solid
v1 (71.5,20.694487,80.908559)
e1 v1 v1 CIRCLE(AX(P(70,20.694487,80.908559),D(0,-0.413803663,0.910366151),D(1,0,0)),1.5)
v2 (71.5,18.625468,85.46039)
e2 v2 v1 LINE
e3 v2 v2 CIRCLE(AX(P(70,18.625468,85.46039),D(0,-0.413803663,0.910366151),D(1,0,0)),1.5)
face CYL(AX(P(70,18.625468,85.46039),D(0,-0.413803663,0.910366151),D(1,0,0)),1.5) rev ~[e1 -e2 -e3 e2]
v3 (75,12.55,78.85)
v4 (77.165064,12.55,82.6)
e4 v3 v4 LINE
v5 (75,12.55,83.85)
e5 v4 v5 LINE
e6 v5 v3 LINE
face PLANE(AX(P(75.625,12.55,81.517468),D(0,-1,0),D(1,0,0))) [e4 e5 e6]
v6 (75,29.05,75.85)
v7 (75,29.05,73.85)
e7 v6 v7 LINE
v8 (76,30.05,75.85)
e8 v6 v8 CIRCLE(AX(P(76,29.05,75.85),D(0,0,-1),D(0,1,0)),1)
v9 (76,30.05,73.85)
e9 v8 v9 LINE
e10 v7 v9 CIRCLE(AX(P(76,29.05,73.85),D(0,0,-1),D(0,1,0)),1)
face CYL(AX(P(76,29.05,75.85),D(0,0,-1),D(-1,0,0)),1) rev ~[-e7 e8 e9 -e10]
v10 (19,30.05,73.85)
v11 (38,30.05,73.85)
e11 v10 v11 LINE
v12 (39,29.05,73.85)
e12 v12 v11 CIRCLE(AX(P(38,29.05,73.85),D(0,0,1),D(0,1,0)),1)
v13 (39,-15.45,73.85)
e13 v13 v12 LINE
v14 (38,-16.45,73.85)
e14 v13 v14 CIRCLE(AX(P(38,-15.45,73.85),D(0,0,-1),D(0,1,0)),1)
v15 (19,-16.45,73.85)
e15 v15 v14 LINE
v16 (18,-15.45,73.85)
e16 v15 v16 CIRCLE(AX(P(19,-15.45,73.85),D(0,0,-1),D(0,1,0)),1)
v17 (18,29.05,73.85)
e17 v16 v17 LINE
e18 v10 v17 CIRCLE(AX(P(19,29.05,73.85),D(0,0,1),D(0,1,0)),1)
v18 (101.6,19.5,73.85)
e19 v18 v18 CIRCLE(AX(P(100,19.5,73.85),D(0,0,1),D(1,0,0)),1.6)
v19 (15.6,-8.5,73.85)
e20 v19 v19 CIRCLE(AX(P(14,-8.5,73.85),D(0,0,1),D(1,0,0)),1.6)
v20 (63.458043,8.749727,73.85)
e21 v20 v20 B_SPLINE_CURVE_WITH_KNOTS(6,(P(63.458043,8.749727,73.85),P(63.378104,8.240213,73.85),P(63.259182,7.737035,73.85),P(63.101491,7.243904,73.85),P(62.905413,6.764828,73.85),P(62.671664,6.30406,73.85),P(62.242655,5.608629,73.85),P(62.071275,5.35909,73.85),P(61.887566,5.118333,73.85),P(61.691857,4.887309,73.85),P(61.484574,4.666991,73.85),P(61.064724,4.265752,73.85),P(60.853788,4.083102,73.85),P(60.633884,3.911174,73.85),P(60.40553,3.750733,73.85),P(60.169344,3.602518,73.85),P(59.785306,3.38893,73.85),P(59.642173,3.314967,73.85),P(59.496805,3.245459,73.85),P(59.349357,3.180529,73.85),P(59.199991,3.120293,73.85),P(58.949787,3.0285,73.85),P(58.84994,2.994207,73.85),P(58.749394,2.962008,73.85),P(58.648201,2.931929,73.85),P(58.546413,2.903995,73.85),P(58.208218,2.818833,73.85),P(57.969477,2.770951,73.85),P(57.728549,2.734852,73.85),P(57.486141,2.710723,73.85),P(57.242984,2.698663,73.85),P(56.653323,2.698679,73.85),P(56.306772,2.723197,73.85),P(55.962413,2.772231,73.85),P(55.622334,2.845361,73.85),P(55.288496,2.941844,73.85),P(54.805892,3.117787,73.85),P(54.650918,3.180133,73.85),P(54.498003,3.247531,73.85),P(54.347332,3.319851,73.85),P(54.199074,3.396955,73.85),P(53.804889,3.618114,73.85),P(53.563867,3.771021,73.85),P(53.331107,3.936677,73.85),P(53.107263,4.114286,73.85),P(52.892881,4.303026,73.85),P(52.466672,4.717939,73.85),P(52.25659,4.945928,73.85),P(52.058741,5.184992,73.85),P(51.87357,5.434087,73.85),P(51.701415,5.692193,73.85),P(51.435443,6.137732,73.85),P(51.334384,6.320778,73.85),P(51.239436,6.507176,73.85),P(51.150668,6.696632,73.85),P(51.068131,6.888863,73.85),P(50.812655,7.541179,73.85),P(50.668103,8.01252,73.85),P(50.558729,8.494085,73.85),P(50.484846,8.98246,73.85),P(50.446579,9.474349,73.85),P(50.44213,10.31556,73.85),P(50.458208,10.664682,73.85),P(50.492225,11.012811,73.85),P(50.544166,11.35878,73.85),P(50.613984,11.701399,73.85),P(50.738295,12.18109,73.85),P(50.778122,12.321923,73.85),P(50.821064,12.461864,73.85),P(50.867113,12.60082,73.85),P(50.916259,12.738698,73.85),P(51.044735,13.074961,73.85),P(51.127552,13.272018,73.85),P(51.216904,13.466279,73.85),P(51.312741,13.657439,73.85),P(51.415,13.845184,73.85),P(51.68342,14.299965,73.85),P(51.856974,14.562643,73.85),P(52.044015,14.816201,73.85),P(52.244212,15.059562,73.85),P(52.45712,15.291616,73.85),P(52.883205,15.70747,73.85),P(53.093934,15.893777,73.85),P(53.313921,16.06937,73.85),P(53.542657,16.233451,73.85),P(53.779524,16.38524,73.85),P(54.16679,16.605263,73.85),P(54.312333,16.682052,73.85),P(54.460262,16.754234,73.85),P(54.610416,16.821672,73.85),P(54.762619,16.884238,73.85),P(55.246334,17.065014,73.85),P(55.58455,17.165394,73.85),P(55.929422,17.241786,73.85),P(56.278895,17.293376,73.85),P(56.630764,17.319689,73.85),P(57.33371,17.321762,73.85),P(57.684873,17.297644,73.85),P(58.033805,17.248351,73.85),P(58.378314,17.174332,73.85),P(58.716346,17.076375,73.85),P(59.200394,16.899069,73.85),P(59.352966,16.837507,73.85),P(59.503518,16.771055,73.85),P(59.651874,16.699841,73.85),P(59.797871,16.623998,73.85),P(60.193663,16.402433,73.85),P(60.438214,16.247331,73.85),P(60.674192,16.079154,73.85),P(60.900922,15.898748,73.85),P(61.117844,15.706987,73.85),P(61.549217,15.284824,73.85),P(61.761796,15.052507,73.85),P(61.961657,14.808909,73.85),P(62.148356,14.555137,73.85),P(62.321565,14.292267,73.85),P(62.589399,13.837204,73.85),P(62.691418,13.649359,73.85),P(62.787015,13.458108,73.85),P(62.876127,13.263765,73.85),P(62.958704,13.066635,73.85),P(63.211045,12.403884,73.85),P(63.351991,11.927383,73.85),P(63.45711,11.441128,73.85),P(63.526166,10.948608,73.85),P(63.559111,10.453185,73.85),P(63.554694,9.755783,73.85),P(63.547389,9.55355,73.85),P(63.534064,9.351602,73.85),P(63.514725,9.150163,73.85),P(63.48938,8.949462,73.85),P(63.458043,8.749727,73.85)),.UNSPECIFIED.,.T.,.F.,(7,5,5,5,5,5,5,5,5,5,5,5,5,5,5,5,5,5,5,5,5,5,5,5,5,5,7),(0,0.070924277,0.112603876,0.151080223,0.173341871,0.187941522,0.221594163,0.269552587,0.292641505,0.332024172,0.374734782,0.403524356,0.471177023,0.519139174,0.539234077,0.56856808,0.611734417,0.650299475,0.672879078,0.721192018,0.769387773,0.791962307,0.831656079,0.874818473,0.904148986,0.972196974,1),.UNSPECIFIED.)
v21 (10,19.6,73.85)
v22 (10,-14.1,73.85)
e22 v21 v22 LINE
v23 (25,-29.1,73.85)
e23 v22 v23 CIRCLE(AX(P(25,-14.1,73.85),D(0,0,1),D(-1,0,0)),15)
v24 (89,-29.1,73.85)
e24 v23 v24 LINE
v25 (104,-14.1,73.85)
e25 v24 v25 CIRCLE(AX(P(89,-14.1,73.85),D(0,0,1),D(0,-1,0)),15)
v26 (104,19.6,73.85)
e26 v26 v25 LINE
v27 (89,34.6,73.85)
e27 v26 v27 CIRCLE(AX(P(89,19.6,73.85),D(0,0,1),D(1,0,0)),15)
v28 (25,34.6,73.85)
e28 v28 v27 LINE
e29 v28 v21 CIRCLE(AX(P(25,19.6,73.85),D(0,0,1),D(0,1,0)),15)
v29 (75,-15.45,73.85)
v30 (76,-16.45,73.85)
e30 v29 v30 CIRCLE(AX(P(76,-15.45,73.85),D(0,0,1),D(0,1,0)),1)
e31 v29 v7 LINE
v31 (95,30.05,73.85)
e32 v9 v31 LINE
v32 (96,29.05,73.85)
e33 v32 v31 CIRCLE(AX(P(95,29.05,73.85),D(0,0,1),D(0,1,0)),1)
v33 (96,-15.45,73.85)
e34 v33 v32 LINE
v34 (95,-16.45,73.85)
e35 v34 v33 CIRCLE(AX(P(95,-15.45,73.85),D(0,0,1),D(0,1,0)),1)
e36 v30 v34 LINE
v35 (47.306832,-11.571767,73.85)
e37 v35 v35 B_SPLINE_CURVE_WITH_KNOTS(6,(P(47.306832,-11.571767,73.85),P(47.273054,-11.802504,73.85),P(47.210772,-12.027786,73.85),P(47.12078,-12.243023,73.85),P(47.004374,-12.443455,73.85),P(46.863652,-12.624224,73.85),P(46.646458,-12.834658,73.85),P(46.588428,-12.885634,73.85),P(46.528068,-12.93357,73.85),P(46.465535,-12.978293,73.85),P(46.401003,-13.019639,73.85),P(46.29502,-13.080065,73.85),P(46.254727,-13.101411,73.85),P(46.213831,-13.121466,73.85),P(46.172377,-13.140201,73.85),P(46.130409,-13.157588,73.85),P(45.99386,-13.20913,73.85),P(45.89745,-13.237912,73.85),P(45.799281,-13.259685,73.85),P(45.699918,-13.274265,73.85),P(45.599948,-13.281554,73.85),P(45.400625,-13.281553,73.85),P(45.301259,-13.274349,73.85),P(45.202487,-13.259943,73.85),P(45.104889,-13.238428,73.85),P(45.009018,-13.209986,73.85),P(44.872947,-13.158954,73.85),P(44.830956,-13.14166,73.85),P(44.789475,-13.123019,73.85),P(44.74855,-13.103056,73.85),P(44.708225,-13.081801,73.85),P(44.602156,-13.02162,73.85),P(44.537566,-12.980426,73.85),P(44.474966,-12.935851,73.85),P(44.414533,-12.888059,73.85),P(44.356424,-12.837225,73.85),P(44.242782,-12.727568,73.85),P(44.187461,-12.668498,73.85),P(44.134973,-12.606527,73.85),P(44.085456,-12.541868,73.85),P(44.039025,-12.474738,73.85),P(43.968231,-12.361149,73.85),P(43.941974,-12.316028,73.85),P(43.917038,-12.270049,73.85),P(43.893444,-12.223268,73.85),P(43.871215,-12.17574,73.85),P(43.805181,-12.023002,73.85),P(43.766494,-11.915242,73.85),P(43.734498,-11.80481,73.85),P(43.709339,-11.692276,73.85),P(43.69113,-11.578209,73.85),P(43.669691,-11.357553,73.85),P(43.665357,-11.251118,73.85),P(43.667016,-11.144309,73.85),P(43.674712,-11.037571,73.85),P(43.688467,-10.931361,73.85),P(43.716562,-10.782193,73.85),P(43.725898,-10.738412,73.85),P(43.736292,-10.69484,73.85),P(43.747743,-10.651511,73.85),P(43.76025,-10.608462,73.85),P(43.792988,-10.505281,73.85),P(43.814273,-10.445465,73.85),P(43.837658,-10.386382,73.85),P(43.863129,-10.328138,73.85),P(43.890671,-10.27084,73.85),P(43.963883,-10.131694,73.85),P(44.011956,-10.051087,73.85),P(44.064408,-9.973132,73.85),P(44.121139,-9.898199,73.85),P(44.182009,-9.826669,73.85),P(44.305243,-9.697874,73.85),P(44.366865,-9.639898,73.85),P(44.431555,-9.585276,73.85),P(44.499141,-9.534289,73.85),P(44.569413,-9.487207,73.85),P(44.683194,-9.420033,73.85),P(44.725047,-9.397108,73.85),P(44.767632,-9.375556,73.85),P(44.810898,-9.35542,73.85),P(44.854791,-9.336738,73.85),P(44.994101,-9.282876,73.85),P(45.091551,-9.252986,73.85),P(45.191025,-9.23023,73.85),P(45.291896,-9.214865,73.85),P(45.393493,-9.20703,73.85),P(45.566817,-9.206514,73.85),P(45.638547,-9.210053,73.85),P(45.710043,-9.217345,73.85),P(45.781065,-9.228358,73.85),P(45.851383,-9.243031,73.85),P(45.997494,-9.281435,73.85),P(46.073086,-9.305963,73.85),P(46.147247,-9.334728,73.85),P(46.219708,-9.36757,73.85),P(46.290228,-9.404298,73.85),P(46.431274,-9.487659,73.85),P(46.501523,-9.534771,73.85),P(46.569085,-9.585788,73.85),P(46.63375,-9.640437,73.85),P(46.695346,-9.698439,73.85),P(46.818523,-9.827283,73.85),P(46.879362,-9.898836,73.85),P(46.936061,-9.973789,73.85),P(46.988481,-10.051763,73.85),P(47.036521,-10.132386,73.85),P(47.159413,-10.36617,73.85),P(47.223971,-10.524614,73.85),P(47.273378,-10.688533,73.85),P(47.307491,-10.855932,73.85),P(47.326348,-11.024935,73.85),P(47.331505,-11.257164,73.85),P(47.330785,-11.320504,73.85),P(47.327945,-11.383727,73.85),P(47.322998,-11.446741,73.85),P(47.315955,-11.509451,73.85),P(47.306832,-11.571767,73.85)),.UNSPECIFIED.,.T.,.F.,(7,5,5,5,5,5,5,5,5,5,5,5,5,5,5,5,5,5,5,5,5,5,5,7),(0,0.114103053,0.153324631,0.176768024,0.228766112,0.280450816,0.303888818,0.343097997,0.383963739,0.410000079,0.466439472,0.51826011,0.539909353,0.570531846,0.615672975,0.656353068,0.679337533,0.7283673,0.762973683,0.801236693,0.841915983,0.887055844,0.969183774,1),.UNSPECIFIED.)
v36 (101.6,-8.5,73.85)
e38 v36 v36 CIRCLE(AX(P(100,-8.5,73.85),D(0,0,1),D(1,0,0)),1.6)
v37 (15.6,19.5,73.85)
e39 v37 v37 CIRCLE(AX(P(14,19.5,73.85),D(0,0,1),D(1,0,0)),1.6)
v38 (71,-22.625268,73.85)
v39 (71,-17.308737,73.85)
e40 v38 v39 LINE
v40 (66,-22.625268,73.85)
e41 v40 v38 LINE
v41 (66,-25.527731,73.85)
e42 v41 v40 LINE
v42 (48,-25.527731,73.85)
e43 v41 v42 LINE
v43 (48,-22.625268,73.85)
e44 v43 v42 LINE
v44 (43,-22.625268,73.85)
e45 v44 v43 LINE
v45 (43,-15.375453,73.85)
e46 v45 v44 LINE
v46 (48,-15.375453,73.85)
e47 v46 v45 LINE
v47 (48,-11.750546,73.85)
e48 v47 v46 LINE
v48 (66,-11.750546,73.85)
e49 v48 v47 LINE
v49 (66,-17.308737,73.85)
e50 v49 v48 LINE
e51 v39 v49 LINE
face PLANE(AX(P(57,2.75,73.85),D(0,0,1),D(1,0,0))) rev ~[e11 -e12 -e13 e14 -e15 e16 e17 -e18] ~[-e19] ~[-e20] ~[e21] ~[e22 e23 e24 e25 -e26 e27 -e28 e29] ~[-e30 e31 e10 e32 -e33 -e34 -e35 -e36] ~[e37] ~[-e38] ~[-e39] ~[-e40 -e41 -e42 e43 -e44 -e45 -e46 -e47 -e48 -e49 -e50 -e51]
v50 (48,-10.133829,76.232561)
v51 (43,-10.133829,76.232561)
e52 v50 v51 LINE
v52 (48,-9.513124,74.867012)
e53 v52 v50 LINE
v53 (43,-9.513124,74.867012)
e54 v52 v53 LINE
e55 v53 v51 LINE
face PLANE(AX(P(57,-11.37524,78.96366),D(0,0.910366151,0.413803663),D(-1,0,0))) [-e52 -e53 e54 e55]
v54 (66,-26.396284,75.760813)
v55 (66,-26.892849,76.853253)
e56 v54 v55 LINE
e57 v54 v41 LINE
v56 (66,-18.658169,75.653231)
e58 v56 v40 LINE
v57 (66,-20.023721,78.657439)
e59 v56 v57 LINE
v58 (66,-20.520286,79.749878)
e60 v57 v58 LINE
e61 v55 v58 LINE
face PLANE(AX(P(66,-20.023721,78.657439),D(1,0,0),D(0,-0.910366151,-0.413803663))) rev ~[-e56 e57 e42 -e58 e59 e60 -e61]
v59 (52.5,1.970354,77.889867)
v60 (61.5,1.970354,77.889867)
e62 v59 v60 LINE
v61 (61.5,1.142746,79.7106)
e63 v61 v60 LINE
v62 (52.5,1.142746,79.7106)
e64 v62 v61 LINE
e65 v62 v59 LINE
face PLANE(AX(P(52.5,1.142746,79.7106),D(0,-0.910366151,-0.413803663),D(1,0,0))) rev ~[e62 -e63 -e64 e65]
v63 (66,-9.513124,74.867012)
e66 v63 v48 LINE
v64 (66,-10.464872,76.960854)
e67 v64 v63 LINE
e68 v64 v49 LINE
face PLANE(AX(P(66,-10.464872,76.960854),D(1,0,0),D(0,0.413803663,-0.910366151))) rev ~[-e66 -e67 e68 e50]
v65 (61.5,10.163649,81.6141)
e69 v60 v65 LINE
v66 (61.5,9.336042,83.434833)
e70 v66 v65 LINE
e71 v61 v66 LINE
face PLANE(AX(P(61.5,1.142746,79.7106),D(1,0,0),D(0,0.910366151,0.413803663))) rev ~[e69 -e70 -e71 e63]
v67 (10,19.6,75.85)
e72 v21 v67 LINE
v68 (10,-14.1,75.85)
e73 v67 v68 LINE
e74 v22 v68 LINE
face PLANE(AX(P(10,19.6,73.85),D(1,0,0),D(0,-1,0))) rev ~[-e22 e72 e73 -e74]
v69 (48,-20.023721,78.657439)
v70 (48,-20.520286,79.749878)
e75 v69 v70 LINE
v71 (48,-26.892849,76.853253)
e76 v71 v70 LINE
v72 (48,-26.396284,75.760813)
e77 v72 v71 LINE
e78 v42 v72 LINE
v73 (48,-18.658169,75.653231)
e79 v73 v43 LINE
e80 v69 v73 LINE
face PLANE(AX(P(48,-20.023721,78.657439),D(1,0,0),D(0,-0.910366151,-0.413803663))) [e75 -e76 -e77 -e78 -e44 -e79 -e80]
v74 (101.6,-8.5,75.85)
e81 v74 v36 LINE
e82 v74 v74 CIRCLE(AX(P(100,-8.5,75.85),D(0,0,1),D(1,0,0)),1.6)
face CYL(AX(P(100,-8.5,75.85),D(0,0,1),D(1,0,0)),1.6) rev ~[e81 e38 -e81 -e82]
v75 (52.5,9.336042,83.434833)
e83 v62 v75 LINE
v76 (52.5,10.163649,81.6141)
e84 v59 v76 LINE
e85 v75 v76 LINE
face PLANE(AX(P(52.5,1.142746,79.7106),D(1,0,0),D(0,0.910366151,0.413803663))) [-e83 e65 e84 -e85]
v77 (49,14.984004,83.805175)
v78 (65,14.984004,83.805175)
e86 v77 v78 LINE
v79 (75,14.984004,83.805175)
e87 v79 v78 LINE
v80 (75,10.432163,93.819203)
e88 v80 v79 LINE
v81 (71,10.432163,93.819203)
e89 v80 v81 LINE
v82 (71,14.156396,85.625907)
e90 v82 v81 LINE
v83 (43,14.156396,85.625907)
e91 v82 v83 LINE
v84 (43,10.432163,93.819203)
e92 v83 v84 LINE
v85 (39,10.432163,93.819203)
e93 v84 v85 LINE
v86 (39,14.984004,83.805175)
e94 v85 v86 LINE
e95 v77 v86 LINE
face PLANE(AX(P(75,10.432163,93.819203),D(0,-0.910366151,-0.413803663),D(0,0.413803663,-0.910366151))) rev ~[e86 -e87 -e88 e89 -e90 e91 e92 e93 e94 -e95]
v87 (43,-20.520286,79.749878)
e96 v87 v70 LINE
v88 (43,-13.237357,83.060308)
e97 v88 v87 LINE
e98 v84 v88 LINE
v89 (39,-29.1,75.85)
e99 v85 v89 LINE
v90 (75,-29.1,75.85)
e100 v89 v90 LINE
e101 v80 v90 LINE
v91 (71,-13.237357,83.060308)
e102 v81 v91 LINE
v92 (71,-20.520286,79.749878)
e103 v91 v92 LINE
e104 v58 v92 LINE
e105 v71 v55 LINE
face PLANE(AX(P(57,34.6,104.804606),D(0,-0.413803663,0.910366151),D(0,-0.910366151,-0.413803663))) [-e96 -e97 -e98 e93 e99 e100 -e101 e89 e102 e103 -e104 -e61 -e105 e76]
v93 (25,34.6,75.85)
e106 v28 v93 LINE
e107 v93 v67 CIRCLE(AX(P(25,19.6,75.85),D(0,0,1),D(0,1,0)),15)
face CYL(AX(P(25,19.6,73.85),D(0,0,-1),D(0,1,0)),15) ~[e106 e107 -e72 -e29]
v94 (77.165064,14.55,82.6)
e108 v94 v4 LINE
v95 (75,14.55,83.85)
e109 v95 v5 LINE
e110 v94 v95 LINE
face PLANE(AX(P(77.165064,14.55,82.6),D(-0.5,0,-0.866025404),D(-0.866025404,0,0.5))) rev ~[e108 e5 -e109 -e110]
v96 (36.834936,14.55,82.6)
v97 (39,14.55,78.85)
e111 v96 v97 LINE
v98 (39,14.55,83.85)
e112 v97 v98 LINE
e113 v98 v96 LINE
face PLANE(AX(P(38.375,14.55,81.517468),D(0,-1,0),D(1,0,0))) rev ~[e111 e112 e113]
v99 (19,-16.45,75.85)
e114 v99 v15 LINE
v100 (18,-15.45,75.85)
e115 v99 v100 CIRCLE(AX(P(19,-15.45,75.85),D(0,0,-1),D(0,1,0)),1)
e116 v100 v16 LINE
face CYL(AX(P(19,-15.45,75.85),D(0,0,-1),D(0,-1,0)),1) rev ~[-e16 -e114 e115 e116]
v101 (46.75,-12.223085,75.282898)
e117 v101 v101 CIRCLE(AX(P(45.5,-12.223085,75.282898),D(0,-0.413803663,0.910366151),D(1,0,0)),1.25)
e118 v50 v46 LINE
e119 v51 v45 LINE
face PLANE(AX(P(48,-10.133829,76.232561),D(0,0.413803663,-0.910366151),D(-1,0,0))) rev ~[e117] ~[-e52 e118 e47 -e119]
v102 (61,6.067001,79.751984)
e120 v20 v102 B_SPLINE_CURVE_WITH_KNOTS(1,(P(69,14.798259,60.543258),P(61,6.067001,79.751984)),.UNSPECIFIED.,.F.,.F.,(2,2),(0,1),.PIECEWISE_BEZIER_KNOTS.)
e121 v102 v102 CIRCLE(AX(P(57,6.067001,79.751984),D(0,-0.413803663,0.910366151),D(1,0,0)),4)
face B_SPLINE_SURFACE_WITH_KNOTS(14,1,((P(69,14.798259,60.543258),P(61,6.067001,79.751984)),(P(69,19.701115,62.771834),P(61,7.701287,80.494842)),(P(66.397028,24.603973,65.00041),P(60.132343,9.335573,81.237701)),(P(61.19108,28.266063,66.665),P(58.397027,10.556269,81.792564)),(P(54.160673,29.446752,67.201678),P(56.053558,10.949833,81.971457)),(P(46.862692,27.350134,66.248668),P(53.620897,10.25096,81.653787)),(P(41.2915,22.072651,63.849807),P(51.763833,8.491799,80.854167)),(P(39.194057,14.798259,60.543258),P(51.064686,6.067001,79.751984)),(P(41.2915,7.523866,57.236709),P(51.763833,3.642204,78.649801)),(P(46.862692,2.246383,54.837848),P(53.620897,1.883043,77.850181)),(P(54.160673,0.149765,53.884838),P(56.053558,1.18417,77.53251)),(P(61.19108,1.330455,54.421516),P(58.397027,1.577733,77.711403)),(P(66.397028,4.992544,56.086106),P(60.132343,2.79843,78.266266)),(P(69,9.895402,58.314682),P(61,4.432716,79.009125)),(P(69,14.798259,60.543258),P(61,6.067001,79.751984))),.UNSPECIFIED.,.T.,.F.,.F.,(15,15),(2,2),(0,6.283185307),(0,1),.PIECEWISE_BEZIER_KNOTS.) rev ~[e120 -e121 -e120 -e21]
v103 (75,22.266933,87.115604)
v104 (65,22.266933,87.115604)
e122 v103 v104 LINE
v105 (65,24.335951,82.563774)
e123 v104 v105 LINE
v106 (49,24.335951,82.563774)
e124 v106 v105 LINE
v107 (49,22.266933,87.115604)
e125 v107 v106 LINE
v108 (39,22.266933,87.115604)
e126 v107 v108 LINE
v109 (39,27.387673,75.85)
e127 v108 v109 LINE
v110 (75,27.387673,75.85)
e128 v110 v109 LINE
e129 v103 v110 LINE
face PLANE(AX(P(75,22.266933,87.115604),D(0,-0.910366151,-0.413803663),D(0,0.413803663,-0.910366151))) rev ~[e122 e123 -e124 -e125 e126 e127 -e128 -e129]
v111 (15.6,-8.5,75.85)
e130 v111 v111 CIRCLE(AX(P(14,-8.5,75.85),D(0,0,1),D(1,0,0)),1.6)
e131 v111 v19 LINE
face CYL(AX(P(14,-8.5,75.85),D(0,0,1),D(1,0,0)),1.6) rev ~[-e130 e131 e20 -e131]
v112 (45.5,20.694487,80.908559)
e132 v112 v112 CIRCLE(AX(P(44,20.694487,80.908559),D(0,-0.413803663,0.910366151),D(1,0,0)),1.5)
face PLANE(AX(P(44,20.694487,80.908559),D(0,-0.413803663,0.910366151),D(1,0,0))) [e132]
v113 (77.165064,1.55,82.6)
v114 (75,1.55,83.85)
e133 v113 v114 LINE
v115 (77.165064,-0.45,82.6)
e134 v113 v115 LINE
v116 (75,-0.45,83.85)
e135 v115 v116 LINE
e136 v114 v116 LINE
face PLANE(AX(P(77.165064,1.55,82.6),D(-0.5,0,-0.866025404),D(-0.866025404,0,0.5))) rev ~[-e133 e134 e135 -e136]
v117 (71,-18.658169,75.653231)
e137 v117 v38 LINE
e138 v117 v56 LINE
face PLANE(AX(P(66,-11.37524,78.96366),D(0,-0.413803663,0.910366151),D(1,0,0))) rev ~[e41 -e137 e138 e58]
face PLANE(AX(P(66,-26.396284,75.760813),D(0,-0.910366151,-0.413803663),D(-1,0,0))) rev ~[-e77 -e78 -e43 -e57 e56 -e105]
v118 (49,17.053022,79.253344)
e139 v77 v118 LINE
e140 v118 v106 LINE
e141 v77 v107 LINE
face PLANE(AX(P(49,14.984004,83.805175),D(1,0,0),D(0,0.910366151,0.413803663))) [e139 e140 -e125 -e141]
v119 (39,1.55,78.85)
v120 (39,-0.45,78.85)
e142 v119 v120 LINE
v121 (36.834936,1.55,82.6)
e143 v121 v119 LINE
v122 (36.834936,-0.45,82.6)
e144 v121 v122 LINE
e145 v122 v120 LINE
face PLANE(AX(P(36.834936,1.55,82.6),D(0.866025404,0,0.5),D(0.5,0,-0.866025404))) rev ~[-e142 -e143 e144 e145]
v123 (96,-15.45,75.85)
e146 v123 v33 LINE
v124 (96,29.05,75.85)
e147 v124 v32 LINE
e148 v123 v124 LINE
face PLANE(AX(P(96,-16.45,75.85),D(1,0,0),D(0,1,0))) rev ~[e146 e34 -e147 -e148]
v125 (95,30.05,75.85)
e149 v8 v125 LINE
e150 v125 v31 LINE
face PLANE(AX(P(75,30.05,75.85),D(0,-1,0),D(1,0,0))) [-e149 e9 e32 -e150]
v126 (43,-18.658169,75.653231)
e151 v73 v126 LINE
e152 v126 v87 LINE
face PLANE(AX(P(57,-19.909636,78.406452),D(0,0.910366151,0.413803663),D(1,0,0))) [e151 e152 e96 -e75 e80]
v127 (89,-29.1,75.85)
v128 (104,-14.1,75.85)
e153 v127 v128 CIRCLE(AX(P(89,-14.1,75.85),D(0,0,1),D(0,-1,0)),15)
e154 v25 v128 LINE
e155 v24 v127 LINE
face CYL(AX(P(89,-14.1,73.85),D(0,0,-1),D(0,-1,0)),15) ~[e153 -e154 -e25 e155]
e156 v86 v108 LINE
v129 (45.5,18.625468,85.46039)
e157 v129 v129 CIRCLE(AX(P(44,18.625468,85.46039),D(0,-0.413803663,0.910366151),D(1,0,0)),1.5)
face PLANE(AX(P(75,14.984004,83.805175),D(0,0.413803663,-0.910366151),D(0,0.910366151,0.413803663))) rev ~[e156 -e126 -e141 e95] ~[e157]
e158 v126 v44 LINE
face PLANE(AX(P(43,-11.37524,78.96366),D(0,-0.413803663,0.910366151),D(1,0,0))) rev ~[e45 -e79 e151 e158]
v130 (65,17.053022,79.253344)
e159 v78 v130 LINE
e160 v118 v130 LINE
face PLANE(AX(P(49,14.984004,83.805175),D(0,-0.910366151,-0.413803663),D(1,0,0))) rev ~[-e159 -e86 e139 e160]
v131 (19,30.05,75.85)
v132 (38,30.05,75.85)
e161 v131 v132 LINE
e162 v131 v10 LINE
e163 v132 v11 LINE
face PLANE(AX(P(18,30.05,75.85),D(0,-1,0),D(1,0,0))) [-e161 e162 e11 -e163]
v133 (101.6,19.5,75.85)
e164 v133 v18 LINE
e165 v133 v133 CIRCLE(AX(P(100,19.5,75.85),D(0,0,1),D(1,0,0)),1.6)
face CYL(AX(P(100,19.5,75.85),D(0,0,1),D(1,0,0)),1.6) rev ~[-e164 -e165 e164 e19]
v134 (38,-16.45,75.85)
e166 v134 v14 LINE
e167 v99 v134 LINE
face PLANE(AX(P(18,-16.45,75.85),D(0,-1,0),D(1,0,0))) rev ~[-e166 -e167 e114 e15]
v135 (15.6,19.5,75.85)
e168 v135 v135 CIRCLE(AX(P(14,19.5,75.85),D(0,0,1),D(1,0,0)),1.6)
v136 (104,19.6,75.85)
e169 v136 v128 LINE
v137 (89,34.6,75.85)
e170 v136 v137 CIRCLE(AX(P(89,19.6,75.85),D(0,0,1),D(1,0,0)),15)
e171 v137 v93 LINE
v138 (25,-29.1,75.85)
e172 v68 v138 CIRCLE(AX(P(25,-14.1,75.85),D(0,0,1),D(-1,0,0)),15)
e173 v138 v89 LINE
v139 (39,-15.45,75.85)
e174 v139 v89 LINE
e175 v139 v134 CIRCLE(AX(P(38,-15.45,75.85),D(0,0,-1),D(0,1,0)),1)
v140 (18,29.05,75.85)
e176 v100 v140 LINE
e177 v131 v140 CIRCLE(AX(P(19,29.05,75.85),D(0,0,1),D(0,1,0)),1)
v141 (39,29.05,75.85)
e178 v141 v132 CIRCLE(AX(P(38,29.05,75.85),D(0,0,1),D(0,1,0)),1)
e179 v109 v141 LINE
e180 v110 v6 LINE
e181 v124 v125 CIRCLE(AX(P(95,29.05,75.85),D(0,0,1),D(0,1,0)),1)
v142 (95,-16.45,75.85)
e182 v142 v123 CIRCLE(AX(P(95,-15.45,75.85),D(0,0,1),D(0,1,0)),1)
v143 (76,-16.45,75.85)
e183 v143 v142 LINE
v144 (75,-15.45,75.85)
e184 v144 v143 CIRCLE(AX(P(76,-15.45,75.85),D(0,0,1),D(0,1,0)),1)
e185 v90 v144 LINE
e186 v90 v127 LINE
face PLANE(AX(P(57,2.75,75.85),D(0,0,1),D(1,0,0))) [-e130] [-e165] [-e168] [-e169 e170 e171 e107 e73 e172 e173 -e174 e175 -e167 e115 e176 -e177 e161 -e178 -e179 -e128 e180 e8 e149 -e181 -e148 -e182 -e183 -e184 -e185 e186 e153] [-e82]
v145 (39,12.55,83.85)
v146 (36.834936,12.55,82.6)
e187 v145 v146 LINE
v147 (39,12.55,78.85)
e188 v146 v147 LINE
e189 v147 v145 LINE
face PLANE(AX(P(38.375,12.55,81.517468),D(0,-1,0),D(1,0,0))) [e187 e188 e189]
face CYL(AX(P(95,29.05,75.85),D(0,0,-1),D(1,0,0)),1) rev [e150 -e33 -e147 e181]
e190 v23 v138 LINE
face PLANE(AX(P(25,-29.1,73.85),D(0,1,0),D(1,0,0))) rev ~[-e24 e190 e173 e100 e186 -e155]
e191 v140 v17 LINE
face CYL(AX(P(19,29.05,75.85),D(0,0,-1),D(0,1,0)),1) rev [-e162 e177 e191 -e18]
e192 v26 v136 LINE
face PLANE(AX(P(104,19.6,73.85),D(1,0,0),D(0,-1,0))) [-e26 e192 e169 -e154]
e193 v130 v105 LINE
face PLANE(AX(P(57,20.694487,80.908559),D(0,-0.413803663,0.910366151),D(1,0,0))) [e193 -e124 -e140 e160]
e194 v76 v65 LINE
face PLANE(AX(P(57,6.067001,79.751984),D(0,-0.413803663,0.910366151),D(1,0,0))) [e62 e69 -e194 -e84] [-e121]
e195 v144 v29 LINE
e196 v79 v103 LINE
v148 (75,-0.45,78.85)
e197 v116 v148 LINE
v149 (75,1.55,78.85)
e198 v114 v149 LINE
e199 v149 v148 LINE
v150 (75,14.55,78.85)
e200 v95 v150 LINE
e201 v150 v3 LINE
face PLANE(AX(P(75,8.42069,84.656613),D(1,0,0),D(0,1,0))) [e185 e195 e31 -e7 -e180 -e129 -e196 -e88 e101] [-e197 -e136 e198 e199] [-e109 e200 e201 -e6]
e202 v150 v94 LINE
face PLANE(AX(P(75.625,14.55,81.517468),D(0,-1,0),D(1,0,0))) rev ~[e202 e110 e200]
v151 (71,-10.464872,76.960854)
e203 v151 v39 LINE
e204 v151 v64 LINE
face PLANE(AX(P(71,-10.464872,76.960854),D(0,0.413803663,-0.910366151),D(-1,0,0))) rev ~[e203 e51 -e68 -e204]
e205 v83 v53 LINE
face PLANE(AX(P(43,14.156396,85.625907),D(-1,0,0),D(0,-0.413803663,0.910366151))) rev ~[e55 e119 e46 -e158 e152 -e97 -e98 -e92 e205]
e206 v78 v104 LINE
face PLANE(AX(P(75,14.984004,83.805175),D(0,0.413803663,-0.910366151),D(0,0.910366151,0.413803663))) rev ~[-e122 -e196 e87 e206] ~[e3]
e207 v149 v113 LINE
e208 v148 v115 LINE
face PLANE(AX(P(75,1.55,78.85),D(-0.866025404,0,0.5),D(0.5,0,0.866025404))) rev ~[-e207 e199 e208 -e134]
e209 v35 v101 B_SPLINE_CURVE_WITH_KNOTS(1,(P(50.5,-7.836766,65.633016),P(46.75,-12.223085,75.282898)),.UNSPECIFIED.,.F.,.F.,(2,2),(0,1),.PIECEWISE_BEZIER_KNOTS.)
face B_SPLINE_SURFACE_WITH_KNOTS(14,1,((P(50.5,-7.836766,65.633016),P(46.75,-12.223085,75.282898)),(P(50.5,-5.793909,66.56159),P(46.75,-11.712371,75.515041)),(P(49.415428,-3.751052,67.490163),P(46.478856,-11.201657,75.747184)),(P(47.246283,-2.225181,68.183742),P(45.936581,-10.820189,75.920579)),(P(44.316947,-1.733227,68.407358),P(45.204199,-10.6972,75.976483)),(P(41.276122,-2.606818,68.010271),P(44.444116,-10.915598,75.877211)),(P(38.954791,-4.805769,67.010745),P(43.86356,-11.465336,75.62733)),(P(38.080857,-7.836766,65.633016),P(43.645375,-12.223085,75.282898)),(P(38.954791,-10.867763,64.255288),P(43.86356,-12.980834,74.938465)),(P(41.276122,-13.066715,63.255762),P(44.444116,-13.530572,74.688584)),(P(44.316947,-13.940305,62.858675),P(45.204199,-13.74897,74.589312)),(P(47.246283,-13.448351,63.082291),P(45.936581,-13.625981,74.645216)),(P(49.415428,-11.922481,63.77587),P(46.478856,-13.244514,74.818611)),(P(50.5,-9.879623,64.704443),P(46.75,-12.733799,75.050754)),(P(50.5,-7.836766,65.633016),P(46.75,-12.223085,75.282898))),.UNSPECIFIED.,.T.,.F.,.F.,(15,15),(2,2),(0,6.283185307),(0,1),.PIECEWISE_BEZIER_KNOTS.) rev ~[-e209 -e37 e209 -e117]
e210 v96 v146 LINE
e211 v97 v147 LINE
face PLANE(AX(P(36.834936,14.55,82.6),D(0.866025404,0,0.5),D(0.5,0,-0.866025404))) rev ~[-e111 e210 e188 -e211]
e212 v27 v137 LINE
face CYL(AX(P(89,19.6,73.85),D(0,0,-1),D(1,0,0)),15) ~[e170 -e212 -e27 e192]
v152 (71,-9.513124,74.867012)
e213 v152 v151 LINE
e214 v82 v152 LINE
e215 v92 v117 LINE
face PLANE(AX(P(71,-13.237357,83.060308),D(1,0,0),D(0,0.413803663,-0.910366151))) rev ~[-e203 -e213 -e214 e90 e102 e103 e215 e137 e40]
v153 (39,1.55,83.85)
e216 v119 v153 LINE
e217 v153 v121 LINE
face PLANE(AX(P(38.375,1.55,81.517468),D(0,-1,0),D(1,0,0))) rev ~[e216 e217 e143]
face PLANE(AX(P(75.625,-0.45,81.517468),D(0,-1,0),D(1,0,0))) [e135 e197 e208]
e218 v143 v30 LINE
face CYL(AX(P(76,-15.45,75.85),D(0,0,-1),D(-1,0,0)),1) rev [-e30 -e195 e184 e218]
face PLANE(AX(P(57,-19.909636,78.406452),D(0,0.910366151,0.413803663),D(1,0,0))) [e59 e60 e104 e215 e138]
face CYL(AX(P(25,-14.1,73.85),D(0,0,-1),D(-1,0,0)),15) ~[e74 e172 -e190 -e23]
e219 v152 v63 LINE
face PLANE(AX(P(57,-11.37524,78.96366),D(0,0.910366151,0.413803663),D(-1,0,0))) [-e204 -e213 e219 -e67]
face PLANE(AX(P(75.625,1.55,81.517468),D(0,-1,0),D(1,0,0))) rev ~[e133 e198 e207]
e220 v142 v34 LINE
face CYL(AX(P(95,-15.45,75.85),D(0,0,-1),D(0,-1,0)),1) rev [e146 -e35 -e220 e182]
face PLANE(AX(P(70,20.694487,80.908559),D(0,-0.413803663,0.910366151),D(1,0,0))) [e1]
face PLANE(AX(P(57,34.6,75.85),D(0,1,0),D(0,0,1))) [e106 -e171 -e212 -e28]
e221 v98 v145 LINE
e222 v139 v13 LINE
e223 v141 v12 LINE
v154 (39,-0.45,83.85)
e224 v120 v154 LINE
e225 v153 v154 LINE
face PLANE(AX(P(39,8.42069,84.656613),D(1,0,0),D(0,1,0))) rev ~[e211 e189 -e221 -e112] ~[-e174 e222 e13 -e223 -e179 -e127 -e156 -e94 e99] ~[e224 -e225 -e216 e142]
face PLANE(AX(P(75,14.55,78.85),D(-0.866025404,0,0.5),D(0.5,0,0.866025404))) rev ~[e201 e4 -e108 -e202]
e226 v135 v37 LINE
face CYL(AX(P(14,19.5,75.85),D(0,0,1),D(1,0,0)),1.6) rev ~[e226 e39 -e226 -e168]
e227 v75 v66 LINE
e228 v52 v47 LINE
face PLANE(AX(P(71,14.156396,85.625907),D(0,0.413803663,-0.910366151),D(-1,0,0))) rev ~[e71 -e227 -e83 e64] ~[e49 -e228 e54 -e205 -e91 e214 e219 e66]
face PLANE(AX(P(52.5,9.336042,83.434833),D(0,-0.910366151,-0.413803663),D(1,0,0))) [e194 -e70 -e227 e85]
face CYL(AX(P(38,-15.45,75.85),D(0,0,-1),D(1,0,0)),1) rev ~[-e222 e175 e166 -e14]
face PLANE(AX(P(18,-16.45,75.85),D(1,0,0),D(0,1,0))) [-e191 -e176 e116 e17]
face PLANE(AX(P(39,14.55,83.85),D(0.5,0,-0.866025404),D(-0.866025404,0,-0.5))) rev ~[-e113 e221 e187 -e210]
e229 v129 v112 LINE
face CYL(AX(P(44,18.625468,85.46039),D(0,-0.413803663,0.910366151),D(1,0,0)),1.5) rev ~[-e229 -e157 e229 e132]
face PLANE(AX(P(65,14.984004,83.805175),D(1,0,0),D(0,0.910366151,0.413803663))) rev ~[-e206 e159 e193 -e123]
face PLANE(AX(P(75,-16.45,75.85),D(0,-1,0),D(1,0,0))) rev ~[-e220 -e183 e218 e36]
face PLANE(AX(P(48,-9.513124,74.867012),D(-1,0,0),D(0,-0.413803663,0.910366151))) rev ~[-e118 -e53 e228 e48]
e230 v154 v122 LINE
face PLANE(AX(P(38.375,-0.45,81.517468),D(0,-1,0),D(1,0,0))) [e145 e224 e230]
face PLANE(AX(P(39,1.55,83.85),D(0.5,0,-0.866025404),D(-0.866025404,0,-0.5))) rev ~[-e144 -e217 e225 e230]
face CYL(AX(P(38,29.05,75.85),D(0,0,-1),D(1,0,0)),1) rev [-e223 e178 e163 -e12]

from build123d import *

# Parameters (mm, degrees)
PAD127_DEPTH       = 2
PAD128_DEPTH       = 18
PAD128_DEPTH_BACK  = 18
SKETCH333_W        = 21
SKETCH333_H        = 46.5
POCKET160_DEPTH    = 2
FILLET052_R        = 1
POCKET161_DEPTH    = 36
SKETCH335_W        = 28
SKETCH335_H        = 9
POCKET162_DEPTH    = 26
POCKET163_DEPTH    = 15
POCKET164_DEPTH    = 8
POCKET164_FACE50_W = 7
POCKET164_FACE50_H = 18
POCKET165_DEPTH    = 5
SKETCH338_R        = 5
SKETCH337_R        = 1.25
SKETCH339_W        = 9
SKETCH339_H        = 9
POCKET166_DEPTH    = 2
SKETCH341_R        = 12
SKETCH340_R        = 4
SKETCH_R           = 1.6
POCKET_DEPTH       = 5
PAD_DEPTH          = 2
PAD129_DEPTH       = 2
SKETCH346_R        = 1.5
POCKET167_DEPTH    = 5
SKETCH349_W        = 16
SKETCH349_H        = 8
POCKET169_DEPTH    = 5


with BuildPart() as part:
    # Sketch331 → Pad127 (new body)
    with BuildSketch(Plane.XY.offset(42)):
        with BuildLine():
            ThreePointArc((10, 0.35), (14.3933982822, -10.2566017178), (25, -14.65))
            Line((25, -14.65), (89, -14.65))
            ThreePointArc((89, -14.65), (99.6066017178, -10.2566017178), (104, 0.35))
            Line((104, 34.05), (104, 0.35))
            ThreePointArc((104, 34.05), (99.6066017178, 44.6566017178), (89, 49.05))
            Line((25, 49.05), (89, 49.05))
            ThreePointArc((25, 49.05), (14.3933982822, 44.6566017178), (10, 34.05))
            Line((10, 34.05), (10, 0.35))
        make_face()
    extrude(amount=PAD127_DEPTH)

    # Sketch332 → Pad128 (join, two sides)
    with BuildSketch(Plane.YZ.offset(57)) as pad128_sk:
        Polygon((-14.65, 44), (49.05, 44), (49.05, 72.9546061157), align=None)
    extrude(amount=PAD128_DEPTH)
    extrude(pad128_sk.sketch, amount=-PAD128_DEPTH_BACK)

    # Sketch333 (on Face8 of Pad128) → Pocket160 (cut)
    with BuildSketch(Plane.XY.offset(44)):
        with Locations((85.5, 21.25)):
            Rectangle(SKETCH333_W, SKETCH333_H)
        with Locations((28.5, 21.25)):
            Rectangle(SKETCH333_W, SKETCH333_H)
    extrude(amount=-POCKET160_DEPTH, mode=Mode.SUBTRACT)

    # Fillet052
    fillet052_edges = [part.edges().sort_by_distance(p)[0] for p in [
        (75, 44.5, 43),
        (96, 44.5, 43),
        (75, -2, 43),
        (96, -2, 43),
        (18, -2, 43),
        (39, -2, 43),
        (39, 44.5, 43),
        (18, 44.5, 43),
    ]]
    fillet(fillet052_edges, radius=FILLET052_R)

    # Sketch334 (on Face31 of Fillet052) → Pocket161 (cut)
    with BuildSketch(Plane.YZ.offset(75)):
        Polygon((41.8376729515, 44), (49.05, 44), (49.05, 72.9546061157), (24.8821634172, 61.9692028359), (29.4340037078, 51.9551751763), (36.7169329149, 55.2656044786), align=None)
    extrude(amount=-POCKET161_DEPTH, mode=Mode.SUBTRACT)

    # Sketch335 (on Face32 of Pocket161) → Pocket162 (cut)
    with BuildSketch(Plane(origin=(0, 43.9660990716, 19.9846323558), x_dir=(-1, 0, 0), z_dir=(0, 0.9103661509, 0.4138036628))):
        with Locations((-57, 41.6183342984)):
            Rectangle(SKETCH335_W, SKETCH335_H)
    extrude(amount=-POCKET162_DEPTH, mode=Mode.SUBTRACT)

    # Sketch336 (on Face36 of Pocket162) → Pocket163 (cut)
    with BuildSketch(Plane(origin=(0, 20.2965791488, 9.2257371233), x_dir=(-1, 0, 0), z_dir=(0, 0.9103661509, 0.4138036628))):
        Polygon((-71, 41.6183342984), (-71, 39.4183342984), (-66, 39.4183342984), (-66, 37.1183342984), (-48, 37.1183342984), (-48, 38.6183342984), (-43, 38.6183342984), (-43, 41.6183342984), (-48, 41.6183342984), (-48, 44.9183342984), (-66, 44.9183342984), (-66, 41.6183342984), align=None)
    extrude(amount=-POCKET163_DEPTH, mode=Mode.SUBTRACT)

    # Pocket163 Face47 → Pocket164 (cut)
    with BuildSketch(Plane(origin=(57, 1.9222608566, 49.6491526771), x_dir=(1, 0, 0), z_dir=(0, 0.9103661509, 0.4138036628))):
        Polygon((14, -1.7148648649), (14, 2.7851351351), (9, 2.7851351351), (9, -0.5148648649), (-9, -0.5148648649), (-9, 2.7851351351), (-14, 2.7851351351), (-14, -1.7148648649), align=None)
    extrude(amount=-POCKET164_DEPTH, mode=Mode.SUBTRACT)

    # Pocket164 Face50 → Pocket165 (cut)
    with BuildSketch(Plane(origin=(57, -8.7600028454, 45.3591261002), x_dir=(0, -0.9103661509, -0.4138036628), z_dir=(0, 0.4138036628, -0.9103661509))):
        Rectangle(POCKET164_FACE50_W, POCKET164_FACE50_H)
    extrude(amount=-POCKET165_DEPTH, mode=Mode.SUBTRACT)

    # Sketch338 (on Face15 of Pocket165) → SubtractiveLoft002 section 0
    with BuildSketch(Plane(origin=(0, -11.594089358, 25.5069431492), x_dir=(1, 0, 0), z_dir=(0, -0.4138036628, 0.9103661509))):
        with Locations((45.5, 20)):
            Circle(SKETCH338_R)
    # Sketch337 (on Face15 of Pocket165) → SubtractiveLoft002 section 1
    with BuildSketch(Plane(origin=(0, -15.9804081835, 35.1568243485), x_dir=(1, 0, 0), z_dir=(0, -0.4138036628, 0.9103661509))):
        with Locations((45.5, 20)):
            Circle(SKETCH337_R)
    loft(mode=Mode.SUBTRACT)

    # Sketch339 (on Face49 of SubtractiveLoft002) → Pocket166 (cut)
    with BuildSketch(Plane(origin=(0, -15.3597026894, 33.7912751222), x_dir=(1, 0, 0), z_dir=(0, -0.4138036628, 0.9103661509))):
        with Locations((57, 38.5)):
            Rectangle(SKETCH339_W, SKETCH339_H)
    extrude(amount=-POCKET166_DEPTH, mode=Mode.SUBTRACT)

    # Sketch341 (on Face64 of Pocket166) → SubtractiveLoft003 section 0
    with BuildSketch(Plane(origin=(0, -5.8008380789, 12.761817037), x_dir=(1, 0, 0), z_dir=(0, -0.4138036628, 0.9103661509))):
        with Locations((57, 38.5)):
            Circle(SKETCH341_R)
    # Sketch340 (on Face64 of Pocket166) → SubtractiveLoft003 section 1
    with BuildSketch(Plane(origin=(0, -14.5320953638, 31.9705428205), x_dir=(1, 0, 0), z_dir=(0, -0.4138036628, 0.9103661509))):
        with Locations((57, 38.5)):
            Circle(SKETCH340_R)
    loft(mode=Mode.SUBTRACT)

    # Sketch (on Face42 of SubtractiveLoft003) → Pocket (cut)
    with BuildSketch(Plane.XY.offset(44)):
        with Locations((14, 33.95)):
            Circle(SKETCH_R)
        with Locations((100, 33.95)):
            Circle(SKETCH_R)
        with Locations((100, 5.95)):
            Circle(SKETCH_R)
        with Locations((14, 5.95)):
            Circle(SKETCH_R)
    extrude(amount=-POCKET_DEPTH, mode=Mode.SUBTRACT)

    # Sketch344 → Pad (join)
    with BuildSketch(Plane.XZ.offset(-29)):
        Polygon((39, 47), (39, 52), (36.8349364905, 50.75), align=None)
        Polygon((75, 52), (75, 47), (77.1650635095, 50.75), align=None)
    extrude(amount=PAD_DEPTH)

    # Sketch345 → Pad129 (join)
    with BuildSketch(Plane.XZ.offset(-16)):
        Polygon((39, 47), (39, 52), (36.8349364905, 50.75), align=None)
        Polygon((75, 52), (75, 47), (77.1650635095, 50.75), align=None)
    extrude(amount=PAD129_DEPTH)

    # Sketch346 (on Face69 of Pad129) → Pocket167 (cut)
    with BuildSketch(Plane(origin=(0, -14.5320953638, 31.9705428205), x_dir=(1, 0, 0), z_dir=(0, -0.4138036628, 0.9103661509))):
        with Locations((44, 52.2949624492)):
            Circle(SKETCH346_R)
        with Locations((70, 52.2949624492)):
            Circle(SKETCH346_R)
    extrude(amount=-POCKET167_DEPTH, mode=Mode.SUBTRACT)

    # Sketch349 (on Face69 of Pocket167) → Pocket169 (cut)
    with BuildSketch(Plane(origin=(0, -14.5320953638, 31.9705428205), x_dir=(1, 0, 0), z_dir=(0, -0.4138036628, 0.9103661509))):
        with Locations((57, 52.2949624492)):
            Rectangle(SKETCH349_W, SKETCH349_H)
    extrude(amount=-POCKET169_DEPTH, mode=Mode.SUBTRACT)


with BuildPart() as part_1:
    # Body088 placement: moved
    add(part.part.moved(Location((0, -14.45, 31.85))))


solid = part_1.part
